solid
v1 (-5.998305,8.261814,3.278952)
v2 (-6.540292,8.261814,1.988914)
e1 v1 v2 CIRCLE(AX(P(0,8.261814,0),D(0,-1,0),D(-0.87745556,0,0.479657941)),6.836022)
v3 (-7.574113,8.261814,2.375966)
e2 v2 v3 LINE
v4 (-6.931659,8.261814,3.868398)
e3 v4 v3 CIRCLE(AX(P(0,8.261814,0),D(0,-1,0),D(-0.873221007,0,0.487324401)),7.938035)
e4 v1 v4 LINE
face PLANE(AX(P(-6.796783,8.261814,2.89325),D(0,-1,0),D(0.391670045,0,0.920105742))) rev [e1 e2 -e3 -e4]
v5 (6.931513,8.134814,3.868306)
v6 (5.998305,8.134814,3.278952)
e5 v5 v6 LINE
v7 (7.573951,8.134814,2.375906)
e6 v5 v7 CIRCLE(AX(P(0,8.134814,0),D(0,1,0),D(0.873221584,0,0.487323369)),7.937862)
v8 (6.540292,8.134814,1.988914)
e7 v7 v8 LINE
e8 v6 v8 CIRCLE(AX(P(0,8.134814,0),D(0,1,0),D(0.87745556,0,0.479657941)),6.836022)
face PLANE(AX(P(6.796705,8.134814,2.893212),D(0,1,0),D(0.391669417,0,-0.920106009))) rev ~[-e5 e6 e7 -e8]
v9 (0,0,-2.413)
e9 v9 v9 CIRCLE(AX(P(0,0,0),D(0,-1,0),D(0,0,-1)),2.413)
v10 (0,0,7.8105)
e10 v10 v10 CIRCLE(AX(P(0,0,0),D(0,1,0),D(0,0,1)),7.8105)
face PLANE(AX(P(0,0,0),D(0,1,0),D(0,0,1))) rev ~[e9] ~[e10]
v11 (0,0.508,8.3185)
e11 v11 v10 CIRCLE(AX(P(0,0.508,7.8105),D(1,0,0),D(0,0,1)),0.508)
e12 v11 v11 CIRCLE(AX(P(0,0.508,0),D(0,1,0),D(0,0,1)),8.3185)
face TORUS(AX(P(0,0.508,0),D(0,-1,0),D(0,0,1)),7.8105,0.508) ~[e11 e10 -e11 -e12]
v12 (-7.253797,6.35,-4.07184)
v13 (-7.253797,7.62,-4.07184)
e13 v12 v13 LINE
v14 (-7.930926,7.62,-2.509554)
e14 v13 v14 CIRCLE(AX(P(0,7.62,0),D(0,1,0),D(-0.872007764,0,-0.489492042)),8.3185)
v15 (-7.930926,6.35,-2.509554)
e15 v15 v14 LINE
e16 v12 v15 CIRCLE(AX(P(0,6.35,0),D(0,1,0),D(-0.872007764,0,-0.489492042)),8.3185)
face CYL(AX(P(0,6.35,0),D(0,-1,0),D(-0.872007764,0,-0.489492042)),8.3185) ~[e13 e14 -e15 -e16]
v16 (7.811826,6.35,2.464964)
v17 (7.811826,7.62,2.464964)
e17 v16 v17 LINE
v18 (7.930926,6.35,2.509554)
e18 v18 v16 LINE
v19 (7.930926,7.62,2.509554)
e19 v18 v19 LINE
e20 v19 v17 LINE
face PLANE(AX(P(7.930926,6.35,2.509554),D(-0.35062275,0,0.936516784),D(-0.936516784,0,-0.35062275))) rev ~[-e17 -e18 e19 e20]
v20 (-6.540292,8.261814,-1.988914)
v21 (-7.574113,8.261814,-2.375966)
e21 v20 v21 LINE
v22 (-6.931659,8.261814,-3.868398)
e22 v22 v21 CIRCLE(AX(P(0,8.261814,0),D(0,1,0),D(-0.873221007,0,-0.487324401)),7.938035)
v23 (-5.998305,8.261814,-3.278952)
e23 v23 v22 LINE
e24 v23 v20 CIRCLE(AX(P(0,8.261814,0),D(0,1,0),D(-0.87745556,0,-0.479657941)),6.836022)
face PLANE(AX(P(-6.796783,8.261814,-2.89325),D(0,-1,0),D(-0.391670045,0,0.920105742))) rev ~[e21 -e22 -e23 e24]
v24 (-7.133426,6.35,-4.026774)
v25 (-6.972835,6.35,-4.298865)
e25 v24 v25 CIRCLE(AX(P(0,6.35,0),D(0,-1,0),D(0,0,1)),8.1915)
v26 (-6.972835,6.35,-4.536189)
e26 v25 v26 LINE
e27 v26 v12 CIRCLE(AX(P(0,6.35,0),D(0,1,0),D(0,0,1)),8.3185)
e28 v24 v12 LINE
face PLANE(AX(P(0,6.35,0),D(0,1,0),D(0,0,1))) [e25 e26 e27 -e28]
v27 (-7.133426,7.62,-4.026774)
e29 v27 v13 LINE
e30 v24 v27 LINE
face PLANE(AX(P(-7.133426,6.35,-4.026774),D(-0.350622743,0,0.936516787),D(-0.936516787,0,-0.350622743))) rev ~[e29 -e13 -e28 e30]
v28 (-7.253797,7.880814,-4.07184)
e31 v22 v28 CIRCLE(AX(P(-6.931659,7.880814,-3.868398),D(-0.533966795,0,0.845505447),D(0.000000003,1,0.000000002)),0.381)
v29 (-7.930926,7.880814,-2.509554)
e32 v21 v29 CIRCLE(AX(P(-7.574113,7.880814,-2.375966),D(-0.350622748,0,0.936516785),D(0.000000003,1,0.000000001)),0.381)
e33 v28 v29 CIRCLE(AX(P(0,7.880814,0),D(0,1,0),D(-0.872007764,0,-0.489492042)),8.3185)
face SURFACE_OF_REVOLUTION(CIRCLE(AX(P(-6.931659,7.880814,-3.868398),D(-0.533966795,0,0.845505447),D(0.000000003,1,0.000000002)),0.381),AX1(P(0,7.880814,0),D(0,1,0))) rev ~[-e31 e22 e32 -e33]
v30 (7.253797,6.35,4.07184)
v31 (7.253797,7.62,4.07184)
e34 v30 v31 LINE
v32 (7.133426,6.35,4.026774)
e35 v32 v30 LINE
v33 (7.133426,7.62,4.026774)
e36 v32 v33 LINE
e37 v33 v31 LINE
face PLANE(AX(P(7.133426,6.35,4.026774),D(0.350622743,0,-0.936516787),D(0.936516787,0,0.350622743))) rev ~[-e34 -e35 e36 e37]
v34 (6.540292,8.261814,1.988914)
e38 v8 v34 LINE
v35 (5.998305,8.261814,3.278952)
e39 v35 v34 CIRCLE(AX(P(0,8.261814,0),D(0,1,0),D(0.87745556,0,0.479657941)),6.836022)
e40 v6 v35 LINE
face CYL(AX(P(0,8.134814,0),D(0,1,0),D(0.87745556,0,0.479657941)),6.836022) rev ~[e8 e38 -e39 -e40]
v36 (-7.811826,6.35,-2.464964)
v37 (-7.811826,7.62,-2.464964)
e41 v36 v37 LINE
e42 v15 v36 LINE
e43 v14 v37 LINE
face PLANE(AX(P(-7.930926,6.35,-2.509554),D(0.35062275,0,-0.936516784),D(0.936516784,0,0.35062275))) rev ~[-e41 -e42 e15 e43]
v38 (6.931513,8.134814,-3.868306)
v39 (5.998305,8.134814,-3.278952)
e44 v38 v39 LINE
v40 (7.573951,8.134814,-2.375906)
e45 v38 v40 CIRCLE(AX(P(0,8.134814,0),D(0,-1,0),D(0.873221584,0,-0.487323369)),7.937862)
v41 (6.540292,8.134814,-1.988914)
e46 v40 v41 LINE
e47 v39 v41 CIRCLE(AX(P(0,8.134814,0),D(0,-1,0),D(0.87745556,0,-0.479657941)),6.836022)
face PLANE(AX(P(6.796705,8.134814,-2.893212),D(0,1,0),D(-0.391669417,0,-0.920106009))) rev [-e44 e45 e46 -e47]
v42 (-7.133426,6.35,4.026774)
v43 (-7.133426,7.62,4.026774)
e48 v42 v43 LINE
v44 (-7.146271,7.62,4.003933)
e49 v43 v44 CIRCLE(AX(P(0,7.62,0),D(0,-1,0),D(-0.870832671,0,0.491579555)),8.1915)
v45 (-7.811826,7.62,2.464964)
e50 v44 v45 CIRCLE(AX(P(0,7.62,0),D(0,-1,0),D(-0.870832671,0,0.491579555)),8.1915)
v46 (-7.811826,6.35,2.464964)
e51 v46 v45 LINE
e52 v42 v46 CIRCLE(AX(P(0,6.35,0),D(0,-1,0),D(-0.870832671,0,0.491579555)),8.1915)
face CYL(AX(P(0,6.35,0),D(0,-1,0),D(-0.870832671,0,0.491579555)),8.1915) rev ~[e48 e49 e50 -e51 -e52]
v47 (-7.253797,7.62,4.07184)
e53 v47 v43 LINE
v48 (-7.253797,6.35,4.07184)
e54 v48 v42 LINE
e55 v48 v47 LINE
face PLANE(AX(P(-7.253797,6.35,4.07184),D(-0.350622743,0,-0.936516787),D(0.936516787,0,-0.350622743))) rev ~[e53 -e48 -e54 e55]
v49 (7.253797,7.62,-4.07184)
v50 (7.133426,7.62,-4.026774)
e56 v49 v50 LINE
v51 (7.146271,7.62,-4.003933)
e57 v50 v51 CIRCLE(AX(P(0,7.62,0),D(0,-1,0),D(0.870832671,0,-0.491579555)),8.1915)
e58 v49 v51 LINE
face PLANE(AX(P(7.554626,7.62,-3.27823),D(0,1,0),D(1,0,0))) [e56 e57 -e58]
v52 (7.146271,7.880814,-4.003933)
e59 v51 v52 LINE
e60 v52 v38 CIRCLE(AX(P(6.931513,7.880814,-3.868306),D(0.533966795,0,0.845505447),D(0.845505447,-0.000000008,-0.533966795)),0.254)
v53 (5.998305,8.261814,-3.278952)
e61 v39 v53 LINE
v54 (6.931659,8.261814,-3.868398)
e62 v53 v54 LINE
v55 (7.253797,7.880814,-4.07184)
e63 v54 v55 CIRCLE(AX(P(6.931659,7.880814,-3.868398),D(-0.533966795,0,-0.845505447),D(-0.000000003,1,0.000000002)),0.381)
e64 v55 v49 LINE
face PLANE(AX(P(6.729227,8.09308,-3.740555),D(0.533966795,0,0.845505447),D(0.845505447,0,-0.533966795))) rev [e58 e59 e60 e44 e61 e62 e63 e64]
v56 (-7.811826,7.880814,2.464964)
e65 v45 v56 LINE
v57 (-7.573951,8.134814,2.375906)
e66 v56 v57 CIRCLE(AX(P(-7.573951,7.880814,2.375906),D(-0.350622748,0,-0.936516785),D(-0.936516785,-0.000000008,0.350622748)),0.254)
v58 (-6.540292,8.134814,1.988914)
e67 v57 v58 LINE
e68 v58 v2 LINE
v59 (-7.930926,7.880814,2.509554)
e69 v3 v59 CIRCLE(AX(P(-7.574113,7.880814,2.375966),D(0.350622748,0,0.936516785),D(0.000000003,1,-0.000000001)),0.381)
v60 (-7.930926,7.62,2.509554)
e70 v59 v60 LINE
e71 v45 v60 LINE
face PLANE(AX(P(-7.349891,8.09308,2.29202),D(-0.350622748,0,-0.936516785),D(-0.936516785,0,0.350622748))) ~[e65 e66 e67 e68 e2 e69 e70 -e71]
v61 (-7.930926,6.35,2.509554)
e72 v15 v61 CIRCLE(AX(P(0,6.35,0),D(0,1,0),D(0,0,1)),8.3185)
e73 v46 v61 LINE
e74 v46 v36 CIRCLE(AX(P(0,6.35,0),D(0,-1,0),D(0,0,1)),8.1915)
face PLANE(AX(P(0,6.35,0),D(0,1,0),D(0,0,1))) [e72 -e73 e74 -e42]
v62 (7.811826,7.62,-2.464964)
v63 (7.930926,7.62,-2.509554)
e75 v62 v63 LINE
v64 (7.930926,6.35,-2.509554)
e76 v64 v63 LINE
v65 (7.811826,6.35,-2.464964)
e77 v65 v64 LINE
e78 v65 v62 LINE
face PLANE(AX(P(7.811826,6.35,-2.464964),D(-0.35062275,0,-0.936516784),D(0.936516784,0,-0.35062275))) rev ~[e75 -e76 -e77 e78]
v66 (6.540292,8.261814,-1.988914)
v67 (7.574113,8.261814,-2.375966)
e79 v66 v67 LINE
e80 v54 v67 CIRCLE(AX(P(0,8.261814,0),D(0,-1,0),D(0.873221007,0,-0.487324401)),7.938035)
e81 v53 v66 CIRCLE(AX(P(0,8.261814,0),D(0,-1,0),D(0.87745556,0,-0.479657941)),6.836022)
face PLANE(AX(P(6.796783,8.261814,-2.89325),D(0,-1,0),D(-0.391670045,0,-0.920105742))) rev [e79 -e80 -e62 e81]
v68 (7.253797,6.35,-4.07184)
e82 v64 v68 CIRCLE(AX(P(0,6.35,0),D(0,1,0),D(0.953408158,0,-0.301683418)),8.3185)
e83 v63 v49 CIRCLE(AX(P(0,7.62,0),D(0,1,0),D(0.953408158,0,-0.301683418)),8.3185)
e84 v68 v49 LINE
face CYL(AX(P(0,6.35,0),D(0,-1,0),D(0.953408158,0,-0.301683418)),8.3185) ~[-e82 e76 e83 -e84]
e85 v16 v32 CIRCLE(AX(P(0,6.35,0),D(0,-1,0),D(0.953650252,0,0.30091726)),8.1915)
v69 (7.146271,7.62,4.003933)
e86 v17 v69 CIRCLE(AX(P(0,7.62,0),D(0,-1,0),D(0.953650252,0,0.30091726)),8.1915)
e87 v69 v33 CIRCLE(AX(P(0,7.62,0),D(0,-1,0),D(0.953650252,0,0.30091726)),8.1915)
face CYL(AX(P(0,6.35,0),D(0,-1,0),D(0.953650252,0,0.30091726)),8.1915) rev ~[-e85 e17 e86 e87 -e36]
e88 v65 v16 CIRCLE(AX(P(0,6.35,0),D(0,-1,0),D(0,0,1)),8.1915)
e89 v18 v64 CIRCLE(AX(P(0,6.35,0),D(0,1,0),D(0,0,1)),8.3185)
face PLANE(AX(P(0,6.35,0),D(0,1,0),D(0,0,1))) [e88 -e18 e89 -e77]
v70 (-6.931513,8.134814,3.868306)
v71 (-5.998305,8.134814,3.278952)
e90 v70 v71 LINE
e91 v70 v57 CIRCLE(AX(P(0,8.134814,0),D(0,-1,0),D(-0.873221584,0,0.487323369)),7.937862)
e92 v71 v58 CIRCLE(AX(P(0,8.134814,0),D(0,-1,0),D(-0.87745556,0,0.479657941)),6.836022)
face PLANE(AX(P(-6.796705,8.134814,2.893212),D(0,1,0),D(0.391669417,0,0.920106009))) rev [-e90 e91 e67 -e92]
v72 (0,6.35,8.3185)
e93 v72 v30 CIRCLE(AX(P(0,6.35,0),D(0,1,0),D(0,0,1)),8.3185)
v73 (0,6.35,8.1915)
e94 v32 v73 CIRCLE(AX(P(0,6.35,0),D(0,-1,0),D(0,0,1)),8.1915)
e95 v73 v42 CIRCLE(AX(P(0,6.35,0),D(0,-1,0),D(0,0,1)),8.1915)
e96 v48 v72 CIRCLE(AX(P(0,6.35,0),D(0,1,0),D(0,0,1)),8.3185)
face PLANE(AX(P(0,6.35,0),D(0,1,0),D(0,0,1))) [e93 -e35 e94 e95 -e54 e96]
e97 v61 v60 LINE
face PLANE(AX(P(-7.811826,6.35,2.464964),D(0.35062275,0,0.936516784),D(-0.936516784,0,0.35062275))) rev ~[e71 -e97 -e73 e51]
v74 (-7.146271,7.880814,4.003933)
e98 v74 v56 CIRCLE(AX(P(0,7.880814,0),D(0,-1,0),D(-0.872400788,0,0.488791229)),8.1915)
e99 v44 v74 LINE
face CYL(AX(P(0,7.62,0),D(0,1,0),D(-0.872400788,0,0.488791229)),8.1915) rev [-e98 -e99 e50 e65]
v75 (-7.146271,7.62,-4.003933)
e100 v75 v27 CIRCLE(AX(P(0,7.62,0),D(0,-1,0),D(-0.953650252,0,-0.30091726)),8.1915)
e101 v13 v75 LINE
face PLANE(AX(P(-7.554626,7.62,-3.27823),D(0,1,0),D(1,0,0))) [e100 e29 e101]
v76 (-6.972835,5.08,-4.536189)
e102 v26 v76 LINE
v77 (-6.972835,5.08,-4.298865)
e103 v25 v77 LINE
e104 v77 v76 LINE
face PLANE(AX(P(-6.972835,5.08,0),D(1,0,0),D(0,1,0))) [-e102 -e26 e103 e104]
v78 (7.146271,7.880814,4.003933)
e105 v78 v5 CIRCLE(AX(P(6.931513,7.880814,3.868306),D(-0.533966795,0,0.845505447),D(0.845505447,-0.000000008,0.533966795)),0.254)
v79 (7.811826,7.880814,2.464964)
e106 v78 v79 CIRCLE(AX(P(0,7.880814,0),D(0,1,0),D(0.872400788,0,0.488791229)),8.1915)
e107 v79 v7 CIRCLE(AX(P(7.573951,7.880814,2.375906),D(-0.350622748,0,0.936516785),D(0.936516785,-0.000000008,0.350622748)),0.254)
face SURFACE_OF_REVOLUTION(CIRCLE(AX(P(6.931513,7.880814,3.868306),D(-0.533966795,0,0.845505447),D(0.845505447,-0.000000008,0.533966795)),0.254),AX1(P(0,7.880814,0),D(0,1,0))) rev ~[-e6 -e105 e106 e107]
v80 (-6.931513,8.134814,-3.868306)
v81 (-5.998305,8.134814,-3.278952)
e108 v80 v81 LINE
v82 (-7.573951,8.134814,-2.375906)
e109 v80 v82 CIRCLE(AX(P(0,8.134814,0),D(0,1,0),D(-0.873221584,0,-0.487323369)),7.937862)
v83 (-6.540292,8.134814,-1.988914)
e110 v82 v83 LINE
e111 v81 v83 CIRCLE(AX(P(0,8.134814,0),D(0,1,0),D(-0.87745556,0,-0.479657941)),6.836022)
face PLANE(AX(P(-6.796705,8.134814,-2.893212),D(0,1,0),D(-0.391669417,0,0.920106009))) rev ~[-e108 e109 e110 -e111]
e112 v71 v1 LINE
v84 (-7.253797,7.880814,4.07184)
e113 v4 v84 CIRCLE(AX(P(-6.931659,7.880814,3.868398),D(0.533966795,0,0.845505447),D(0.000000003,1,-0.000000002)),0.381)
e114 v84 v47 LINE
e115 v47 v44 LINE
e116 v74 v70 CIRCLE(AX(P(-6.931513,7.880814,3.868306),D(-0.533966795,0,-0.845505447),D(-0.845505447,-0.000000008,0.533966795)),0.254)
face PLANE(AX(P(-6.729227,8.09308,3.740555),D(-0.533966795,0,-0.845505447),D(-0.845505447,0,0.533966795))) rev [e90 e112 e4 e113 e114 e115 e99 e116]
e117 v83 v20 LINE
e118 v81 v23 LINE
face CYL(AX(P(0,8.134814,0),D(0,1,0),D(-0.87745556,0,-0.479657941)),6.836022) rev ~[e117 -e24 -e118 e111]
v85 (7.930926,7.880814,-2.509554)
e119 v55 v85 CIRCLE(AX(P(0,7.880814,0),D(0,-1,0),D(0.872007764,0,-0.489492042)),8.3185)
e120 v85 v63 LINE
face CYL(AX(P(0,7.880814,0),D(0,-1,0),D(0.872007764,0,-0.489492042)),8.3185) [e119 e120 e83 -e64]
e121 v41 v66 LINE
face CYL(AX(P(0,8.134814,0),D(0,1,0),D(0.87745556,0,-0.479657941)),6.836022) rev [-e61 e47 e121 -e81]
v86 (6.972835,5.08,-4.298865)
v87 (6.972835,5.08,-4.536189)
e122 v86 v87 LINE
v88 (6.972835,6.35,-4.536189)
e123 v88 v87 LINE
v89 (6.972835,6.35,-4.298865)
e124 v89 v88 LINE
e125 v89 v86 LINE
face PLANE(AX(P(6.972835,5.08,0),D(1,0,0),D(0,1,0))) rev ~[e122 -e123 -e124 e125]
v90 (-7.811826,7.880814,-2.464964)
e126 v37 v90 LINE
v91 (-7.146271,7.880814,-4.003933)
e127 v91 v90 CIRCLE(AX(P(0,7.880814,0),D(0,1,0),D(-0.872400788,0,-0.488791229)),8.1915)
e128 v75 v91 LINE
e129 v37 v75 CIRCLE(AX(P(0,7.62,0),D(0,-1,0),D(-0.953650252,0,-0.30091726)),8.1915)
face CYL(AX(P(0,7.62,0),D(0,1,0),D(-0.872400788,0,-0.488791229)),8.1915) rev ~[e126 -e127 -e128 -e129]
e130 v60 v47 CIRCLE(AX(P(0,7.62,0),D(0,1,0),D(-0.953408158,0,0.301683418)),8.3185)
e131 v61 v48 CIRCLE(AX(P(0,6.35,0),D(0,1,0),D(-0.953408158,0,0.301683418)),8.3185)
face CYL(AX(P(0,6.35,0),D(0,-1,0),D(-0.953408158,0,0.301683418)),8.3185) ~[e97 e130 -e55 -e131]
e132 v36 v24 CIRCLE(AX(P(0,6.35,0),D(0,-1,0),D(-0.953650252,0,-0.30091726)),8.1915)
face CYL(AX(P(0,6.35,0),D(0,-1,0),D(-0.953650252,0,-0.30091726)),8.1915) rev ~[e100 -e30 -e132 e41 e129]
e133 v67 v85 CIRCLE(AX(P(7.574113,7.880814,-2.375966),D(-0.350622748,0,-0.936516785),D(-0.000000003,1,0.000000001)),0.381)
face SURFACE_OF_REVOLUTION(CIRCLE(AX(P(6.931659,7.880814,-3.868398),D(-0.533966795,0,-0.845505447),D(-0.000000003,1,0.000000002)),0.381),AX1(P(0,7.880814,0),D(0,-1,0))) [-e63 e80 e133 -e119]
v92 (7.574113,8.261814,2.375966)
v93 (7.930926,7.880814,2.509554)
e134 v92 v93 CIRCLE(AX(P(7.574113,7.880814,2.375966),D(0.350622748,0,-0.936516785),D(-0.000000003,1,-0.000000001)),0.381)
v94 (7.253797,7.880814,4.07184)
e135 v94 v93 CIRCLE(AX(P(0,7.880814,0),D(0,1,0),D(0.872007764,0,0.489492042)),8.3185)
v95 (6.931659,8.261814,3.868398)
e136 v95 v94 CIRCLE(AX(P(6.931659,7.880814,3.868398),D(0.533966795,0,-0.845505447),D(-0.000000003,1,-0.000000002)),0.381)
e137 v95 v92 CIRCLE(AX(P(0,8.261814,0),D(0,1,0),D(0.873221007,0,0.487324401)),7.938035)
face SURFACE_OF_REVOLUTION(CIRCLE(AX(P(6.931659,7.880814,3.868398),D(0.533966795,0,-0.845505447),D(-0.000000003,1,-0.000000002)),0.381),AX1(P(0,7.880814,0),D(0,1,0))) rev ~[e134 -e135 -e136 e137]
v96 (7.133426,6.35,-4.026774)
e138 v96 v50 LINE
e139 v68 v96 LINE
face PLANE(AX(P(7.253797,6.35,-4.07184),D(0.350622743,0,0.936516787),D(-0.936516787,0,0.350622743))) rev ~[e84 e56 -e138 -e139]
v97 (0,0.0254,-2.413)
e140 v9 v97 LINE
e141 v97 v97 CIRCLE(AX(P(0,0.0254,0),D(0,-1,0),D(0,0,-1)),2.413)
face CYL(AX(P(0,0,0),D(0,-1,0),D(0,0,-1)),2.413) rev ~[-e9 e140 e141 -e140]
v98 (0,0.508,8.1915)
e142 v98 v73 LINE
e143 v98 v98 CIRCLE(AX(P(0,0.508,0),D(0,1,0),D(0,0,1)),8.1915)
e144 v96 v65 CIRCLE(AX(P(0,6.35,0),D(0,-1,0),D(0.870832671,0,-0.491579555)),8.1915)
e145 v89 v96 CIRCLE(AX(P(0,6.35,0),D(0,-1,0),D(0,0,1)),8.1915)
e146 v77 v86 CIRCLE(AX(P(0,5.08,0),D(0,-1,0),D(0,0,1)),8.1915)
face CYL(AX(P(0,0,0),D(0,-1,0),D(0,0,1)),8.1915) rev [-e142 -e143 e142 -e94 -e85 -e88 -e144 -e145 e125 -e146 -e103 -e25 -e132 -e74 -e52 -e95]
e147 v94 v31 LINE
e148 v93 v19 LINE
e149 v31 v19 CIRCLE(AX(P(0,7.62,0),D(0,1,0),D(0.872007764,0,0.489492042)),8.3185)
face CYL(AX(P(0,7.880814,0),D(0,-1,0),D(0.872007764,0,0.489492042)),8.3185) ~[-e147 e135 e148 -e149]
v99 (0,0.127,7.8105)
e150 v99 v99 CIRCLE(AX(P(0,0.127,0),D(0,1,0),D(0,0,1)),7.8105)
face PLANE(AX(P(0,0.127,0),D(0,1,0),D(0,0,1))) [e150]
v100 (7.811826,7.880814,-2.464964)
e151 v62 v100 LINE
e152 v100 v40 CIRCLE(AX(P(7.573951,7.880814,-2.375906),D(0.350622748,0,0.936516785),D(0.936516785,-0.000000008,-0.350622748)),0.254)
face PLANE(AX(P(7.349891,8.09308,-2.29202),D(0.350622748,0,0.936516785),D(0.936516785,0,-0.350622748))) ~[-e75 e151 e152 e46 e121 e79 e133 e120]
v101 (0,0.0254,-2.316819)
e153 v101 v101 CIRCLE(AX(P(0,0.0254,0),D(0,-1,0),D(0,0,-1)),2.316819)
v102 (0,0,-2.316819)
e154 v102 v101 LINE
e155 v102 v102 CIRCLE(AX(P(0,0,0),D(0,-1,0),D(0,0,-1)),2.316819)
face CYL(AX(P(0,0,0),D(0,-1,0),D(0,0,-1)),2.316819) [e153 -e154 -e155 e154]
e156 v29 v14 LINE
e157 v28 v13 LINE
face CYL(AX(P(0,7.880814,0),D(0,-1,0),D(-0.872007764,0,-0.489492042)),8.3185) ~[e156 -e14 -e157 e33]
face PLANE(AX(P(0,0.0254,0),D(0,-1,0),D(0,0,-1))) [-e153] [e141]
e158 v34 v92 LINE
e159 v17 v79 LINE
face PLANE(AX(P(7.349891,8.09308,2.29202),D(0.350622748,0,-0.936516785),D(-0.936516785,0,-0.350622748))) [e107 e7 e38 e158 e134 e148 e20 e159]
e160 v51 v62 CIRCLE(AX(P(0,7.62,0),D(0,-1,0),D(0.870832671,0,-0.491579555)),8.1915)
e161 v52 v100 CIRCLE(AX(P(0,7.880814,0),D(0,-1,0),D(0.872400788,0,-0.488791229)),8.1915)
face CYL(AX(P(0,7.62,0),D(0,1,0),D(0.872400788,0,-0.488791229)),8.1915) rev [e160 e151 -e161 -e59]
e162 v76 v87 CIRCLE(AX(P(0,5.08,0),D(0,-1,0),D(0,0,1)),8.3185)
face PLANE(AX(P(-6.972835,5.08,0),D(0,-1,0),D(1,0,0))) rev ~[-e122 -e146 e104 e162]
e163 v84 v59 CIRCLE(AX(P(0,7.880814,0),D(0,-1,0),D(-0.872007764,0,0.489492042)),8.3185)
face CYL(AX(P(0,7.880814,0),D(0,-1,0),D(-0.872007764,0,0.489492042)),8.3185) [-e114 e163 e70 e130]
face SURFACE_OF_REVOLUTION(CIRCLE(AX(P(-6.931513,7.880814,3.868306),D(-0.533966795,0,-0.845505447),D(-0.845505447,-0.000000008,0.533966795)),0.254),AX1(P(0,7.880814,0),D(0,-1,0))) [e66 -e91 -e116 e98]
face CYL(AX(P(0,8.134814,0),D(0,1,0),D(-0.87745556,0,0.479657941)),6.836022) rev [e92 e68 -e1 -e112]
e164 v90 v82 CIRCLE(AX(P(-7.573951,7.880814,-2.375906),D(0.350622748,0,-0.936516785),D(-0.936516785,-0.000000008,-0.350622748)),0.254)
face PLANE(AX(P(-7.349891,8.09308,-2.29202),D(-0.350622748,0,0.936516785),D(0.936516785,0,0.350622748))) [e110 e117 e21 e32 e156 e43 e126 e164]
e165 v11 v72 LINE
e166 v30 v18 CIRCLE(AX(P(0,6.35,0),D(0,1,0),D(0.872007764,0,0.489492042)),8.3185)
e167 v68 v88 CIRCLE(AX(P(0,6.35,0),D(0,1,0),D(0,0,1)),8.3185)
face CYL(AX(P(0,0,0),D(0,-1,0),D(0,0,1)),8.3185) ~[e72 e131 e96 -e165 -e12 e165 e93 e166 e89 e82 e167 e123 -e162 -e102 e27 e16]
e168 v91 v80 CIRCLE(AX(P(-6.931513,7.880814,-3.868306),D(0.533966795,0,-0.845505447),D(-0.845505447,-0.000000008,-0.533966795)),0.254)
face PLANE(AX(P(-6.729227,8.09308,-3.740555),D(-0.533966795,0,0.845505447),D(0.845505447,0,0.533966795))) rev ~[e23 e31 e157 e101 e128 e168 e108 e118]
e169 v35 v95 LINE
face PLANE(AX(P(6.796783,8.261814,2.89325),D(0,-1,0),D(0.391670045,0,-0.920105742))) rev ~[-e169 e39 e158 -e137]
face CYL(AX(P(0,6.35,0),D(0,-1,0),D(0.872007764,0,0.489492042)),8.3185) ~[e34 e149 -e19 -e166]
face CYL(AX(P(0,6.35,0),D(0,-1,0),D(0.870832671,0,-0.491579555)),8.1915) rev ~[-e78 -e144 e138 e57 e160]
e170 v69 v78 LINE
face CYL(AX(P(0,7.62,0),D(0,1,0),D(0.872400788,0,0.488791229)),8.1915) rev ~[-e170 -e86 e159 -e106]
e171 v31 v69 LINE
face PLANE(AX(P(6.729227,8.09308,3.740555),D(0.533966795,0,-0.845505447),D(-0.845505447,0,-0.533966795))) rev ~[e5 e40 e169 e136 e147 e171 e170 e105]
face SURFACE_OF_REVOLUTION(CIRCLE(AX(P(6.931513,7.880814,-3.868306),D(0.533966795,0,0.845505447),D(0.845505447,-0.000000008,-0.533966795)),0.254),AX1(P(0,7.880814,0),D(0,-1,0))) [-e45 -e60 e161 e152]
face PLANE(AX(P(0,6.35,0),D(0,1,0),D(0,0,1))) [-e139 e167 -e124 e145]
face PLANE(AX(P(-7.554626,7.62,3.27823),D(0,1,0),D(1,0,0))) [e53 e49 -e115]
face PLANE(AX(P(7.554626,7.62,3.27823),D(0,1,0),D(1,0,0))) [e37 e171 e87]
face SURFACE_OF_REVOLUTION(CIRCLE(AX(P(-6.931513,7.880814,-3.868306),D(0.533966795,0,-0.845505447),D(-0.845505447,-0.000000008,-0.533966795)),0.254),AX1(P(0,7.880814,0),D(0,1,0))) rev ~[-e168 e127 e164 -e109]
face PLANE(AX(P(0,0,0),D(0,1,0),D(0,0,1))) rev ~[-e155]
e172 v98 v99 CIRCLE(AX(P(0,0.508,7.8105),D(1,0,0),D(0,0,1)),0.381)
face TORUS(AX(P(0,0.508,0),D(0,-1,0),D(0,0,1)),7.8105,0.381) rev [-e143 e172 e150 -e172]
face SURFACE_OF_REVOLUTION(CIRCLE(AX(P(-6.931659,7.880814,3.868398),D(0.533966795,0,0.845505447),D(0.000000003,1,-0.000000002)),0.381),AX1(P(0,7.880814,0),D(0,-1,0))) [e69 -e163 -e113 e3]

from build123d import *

# Parameters (mm, degrees)
SKETCH1_R           = 8.3185
BOSS_EXTRUDE1_DEPTH = 6.35
FILLET1_R           = 0.508
SHELL1_T            = -0.127
SKETCH11_W          = 13.94567027
SKETCH11_H          = 5.377156333
CUT_EXTRUDE1_DEPTH  = 9.144
BOSS_EXTRUDE2_DEPTH = 1.27
SKETCH14_R          = 2.413
SKETCH14_R_2        = 2.316819153
CUT_EXTRUDE2_DEPTH  = 0.0254


with BuildPart() as part:
    # Sketch1 → Boss-Extrude1 (new body)
    with BuildSketch(Plane(origin=(0, 0, 0), x_dir=(1, 0, 0), z_dir=(0, 1, 0))):
        with Locations(Location((0, 0, 0), (0, 0, 270))):
            Circle(SKETCH1_R)
    extrude(amount=BOSS_EXTRUDE1_DEPTH)

    # Fillet1
    fillet1_edges = [part.edges().sort_by_distance(p)[0] for p in [
        (0, 0, -8.3185),
    ]]
    fillet(fillet1_edges, radius=FILLET1_R)

    # Shell1
    shell1_openings = [part.faces().sort_by_distance(p)[0] for p in [
        (0, 6.35, 0),
    ]]
    offset(amount=SHELL1_T, openings=shell1_openings, kind=Kind.INTERSECTION)

    # Sketch11 → Cut-Extrude1 (cut)
    with BuildSketch(Plane.XY):
        with Locations((0, 7.768578167)):
            Rectangle(SKETCH11_W, SKETCH11_H)
    extrude(amount=-CUT_EXTRUDE1_DEPTH, mode=Mode.SUBTRACT)

    # Sketch12 → Boss-Extrude2 (add)
    with BuildSketch(Plane(origin=(0, 6.35, 0), x_dir=(1, 0, 0), z_dir=(0, 1, 0))):
        with BuildLine():
            Line((-7.133425829, 4.026773918), (-7.253796585, 4.071839554))
            ThreePointArc((-7.253796585, 4.071839554), (-7.632439491, 3.308067361), (-7.930925759, 2.509553516))
            Line((-7.930925759, 2.509553516), (-7.811826035, 2.464963741))
            ThreePointArc((-7.811826035, 2.464963741), (-7.513318247, 3.263544265), (-7.133425829, 4.026773918))
        make_face()
        with BuildLine():
            Line((7.811826035, 2.464963741), (7.930925759, 2.509553516))
            ThreePointArc((7.930925759, 2.509553516), (7.632439491, 3.308067361), (7.253796585, 4.071839554))
            Line((7.253796585, 4.071839554), (7.133425829, 4.026773918))
            ThreePointArc((7.133425829, 4.026773918), (7.513318247, 3.263544265), (7.811826035, 2.464963741))
        make_face()
        with BuildLine():
            Line((7.133425829, -4.026773918), (7.253796585, -4.071839554))
            ThreePointArc((7.253796585, -4.071839554), (7.632439491, -3.308067361), (7.930925759, -2.509553516))
            Line((7.930925759, -2.509553516), (7.811826035, -2.464963741))
            ThreePointArc((7.811826035, -2.464963741), (7.513318247, -3.263544265), (7.133425829, -4.026773918))
        make_face()
        with BuildLine():
            Line((-7.811826035, -2.464963741), (-7.930925759, -2.509553516))
            ThreePointArc((-7.930925759, -2.509553516), (-7.632439491, -3.308067361), (-7.253796585, -4.071839554))
            Line((-7.253796585, -4.071839554), (-7.133425829, -4.026773918))
            ThreePointArc((-7.133425829, -4.026773918), (-7.513318247, -3.263544265), (-7.811826035, -2.464963741))
        make_face()
    extrude(amount=BOSS_EXTRUDE2_DEPTH)

    # Sweep1: sweep along a curve in space
    with BuildLine() as sweep1_path:
        ThreePointArc((-7.253796585, 7.62, -4.071839554), (-7.632439491, 7.62, -3.308067361), (-7.930925759, 7.62, -2.509553516))
    # Sketch13 → Sweep1 (sweep)
    with BuildSketch(Plane(origin=(-0.150951504, 0, 0.403192943), x_dir=(0.9365167851453156, 0, 0.35062274760928275), z_dir=(-0.35062274760928275, 0, 0.9365167851453156))):
        with BuildLine():
            Line((-8.180178564, 7.62), (-8.180178564, 7.880813702))
            ThreePointArc((-8.180178564, 7.880813702), (-8.105783687, 8.060418825), (-7.926178564, 8.134813702))
            Line((-7.926178564, 8.134813702), (-6.82245156, 8.134813702))
            Line((-6.82245156, 8.134813702), (-6.82245156, 8.261813702))
            Line((-6.82245156, 8.261813702), (-7.926351644, 8.261813702))
            ThreePointArc((-7.926351644, 8.261813702), (-8.195759328, 8.150221386), (-8.307351644, 7.880813702))
            Line((-8.307351644, 7.880813702), (-8.307351644, 7.62))
            Line((-8.307351644, 7.62), (-8.180178564, 7.62))
        make_face()
    sweep1 = sweep(path=sweep1_path.line)

    # Mirror1: Sweep1 across plane
    add(sweep1.mirror(Plane(origin=(0, 0, 0), x_dir=(0, 0, 1), z_dir=(1, 0, 0))))

    # Mirror2: Sweep1 across plane
    add(sweep1.mirror(Plane.XY))

    # Mirror2 copy 1: sweep along a curve in space
    with BuildLine() as mirror2_copy_1_path:
        ThreePointArc((7.253796585, 7.62, 4.071839554), (7.632439491, 7.62, 3.308067361), (7.930925759, 7.62, 2.509553516))
    # Mirror2 copy 1 sketch → Mirror2 copy 1 (sweep)
    with BuildSketch(Plane(origin=(0.150951504, 0, -0.403192943), x_dir=(-0.9365167851453156, 0, -0.35062274760928275), z_dir=(0.35062274760928275, 0, -0.9365167851453156))):
        with BuildLine():
            Line((-8.180178564, 7.62), (-8.180178564, 7.880813702))
            ThreePointArc((-8.180178564, 7.880813702), (-8.105783687, 8.060418825), (-7.926178564, 8.134813702))
            Line((-7.926178564, 8.134813702), (-6.82245156, 8.134813702))
            Line((-6.82245156, 8.134813702), (-6.82245156, 8.261813702))
            Line((-6.82245156, 8.261813702), (-7.926351644, 8.261813702))
            ThreePointArc((-7.926351644, 8.261813702), (-8.195759328, 8.150221386), (-8.307351644, 7.880813702))
            Line((-8.307351644, 7.880813702), (-8.307351644, 7.62))
            Line((-8.307351644, 7.62), (-8.180178564, 7.62))
        make_face()
    sweep(path=mirror2_copy_1_path.line)

    # Sketch14 → Cut-Extrude2 (cut)
    with BuildSketch(Plane.XZ):
        with Locations(Location((0, 0, 0), (0, 0, 270))):
            Circle(SKETCH14_R)
        with Locations(Location((0, 0, 0), (0, 0, 270))):
            Circle(SKETCH14_R_2, mode=Mode.SUBTRACT)
    extrude(amount=-CUT_EXTRUDE2_DEPTH, mode=Mode.SUBTRACT)


solid = part.part
